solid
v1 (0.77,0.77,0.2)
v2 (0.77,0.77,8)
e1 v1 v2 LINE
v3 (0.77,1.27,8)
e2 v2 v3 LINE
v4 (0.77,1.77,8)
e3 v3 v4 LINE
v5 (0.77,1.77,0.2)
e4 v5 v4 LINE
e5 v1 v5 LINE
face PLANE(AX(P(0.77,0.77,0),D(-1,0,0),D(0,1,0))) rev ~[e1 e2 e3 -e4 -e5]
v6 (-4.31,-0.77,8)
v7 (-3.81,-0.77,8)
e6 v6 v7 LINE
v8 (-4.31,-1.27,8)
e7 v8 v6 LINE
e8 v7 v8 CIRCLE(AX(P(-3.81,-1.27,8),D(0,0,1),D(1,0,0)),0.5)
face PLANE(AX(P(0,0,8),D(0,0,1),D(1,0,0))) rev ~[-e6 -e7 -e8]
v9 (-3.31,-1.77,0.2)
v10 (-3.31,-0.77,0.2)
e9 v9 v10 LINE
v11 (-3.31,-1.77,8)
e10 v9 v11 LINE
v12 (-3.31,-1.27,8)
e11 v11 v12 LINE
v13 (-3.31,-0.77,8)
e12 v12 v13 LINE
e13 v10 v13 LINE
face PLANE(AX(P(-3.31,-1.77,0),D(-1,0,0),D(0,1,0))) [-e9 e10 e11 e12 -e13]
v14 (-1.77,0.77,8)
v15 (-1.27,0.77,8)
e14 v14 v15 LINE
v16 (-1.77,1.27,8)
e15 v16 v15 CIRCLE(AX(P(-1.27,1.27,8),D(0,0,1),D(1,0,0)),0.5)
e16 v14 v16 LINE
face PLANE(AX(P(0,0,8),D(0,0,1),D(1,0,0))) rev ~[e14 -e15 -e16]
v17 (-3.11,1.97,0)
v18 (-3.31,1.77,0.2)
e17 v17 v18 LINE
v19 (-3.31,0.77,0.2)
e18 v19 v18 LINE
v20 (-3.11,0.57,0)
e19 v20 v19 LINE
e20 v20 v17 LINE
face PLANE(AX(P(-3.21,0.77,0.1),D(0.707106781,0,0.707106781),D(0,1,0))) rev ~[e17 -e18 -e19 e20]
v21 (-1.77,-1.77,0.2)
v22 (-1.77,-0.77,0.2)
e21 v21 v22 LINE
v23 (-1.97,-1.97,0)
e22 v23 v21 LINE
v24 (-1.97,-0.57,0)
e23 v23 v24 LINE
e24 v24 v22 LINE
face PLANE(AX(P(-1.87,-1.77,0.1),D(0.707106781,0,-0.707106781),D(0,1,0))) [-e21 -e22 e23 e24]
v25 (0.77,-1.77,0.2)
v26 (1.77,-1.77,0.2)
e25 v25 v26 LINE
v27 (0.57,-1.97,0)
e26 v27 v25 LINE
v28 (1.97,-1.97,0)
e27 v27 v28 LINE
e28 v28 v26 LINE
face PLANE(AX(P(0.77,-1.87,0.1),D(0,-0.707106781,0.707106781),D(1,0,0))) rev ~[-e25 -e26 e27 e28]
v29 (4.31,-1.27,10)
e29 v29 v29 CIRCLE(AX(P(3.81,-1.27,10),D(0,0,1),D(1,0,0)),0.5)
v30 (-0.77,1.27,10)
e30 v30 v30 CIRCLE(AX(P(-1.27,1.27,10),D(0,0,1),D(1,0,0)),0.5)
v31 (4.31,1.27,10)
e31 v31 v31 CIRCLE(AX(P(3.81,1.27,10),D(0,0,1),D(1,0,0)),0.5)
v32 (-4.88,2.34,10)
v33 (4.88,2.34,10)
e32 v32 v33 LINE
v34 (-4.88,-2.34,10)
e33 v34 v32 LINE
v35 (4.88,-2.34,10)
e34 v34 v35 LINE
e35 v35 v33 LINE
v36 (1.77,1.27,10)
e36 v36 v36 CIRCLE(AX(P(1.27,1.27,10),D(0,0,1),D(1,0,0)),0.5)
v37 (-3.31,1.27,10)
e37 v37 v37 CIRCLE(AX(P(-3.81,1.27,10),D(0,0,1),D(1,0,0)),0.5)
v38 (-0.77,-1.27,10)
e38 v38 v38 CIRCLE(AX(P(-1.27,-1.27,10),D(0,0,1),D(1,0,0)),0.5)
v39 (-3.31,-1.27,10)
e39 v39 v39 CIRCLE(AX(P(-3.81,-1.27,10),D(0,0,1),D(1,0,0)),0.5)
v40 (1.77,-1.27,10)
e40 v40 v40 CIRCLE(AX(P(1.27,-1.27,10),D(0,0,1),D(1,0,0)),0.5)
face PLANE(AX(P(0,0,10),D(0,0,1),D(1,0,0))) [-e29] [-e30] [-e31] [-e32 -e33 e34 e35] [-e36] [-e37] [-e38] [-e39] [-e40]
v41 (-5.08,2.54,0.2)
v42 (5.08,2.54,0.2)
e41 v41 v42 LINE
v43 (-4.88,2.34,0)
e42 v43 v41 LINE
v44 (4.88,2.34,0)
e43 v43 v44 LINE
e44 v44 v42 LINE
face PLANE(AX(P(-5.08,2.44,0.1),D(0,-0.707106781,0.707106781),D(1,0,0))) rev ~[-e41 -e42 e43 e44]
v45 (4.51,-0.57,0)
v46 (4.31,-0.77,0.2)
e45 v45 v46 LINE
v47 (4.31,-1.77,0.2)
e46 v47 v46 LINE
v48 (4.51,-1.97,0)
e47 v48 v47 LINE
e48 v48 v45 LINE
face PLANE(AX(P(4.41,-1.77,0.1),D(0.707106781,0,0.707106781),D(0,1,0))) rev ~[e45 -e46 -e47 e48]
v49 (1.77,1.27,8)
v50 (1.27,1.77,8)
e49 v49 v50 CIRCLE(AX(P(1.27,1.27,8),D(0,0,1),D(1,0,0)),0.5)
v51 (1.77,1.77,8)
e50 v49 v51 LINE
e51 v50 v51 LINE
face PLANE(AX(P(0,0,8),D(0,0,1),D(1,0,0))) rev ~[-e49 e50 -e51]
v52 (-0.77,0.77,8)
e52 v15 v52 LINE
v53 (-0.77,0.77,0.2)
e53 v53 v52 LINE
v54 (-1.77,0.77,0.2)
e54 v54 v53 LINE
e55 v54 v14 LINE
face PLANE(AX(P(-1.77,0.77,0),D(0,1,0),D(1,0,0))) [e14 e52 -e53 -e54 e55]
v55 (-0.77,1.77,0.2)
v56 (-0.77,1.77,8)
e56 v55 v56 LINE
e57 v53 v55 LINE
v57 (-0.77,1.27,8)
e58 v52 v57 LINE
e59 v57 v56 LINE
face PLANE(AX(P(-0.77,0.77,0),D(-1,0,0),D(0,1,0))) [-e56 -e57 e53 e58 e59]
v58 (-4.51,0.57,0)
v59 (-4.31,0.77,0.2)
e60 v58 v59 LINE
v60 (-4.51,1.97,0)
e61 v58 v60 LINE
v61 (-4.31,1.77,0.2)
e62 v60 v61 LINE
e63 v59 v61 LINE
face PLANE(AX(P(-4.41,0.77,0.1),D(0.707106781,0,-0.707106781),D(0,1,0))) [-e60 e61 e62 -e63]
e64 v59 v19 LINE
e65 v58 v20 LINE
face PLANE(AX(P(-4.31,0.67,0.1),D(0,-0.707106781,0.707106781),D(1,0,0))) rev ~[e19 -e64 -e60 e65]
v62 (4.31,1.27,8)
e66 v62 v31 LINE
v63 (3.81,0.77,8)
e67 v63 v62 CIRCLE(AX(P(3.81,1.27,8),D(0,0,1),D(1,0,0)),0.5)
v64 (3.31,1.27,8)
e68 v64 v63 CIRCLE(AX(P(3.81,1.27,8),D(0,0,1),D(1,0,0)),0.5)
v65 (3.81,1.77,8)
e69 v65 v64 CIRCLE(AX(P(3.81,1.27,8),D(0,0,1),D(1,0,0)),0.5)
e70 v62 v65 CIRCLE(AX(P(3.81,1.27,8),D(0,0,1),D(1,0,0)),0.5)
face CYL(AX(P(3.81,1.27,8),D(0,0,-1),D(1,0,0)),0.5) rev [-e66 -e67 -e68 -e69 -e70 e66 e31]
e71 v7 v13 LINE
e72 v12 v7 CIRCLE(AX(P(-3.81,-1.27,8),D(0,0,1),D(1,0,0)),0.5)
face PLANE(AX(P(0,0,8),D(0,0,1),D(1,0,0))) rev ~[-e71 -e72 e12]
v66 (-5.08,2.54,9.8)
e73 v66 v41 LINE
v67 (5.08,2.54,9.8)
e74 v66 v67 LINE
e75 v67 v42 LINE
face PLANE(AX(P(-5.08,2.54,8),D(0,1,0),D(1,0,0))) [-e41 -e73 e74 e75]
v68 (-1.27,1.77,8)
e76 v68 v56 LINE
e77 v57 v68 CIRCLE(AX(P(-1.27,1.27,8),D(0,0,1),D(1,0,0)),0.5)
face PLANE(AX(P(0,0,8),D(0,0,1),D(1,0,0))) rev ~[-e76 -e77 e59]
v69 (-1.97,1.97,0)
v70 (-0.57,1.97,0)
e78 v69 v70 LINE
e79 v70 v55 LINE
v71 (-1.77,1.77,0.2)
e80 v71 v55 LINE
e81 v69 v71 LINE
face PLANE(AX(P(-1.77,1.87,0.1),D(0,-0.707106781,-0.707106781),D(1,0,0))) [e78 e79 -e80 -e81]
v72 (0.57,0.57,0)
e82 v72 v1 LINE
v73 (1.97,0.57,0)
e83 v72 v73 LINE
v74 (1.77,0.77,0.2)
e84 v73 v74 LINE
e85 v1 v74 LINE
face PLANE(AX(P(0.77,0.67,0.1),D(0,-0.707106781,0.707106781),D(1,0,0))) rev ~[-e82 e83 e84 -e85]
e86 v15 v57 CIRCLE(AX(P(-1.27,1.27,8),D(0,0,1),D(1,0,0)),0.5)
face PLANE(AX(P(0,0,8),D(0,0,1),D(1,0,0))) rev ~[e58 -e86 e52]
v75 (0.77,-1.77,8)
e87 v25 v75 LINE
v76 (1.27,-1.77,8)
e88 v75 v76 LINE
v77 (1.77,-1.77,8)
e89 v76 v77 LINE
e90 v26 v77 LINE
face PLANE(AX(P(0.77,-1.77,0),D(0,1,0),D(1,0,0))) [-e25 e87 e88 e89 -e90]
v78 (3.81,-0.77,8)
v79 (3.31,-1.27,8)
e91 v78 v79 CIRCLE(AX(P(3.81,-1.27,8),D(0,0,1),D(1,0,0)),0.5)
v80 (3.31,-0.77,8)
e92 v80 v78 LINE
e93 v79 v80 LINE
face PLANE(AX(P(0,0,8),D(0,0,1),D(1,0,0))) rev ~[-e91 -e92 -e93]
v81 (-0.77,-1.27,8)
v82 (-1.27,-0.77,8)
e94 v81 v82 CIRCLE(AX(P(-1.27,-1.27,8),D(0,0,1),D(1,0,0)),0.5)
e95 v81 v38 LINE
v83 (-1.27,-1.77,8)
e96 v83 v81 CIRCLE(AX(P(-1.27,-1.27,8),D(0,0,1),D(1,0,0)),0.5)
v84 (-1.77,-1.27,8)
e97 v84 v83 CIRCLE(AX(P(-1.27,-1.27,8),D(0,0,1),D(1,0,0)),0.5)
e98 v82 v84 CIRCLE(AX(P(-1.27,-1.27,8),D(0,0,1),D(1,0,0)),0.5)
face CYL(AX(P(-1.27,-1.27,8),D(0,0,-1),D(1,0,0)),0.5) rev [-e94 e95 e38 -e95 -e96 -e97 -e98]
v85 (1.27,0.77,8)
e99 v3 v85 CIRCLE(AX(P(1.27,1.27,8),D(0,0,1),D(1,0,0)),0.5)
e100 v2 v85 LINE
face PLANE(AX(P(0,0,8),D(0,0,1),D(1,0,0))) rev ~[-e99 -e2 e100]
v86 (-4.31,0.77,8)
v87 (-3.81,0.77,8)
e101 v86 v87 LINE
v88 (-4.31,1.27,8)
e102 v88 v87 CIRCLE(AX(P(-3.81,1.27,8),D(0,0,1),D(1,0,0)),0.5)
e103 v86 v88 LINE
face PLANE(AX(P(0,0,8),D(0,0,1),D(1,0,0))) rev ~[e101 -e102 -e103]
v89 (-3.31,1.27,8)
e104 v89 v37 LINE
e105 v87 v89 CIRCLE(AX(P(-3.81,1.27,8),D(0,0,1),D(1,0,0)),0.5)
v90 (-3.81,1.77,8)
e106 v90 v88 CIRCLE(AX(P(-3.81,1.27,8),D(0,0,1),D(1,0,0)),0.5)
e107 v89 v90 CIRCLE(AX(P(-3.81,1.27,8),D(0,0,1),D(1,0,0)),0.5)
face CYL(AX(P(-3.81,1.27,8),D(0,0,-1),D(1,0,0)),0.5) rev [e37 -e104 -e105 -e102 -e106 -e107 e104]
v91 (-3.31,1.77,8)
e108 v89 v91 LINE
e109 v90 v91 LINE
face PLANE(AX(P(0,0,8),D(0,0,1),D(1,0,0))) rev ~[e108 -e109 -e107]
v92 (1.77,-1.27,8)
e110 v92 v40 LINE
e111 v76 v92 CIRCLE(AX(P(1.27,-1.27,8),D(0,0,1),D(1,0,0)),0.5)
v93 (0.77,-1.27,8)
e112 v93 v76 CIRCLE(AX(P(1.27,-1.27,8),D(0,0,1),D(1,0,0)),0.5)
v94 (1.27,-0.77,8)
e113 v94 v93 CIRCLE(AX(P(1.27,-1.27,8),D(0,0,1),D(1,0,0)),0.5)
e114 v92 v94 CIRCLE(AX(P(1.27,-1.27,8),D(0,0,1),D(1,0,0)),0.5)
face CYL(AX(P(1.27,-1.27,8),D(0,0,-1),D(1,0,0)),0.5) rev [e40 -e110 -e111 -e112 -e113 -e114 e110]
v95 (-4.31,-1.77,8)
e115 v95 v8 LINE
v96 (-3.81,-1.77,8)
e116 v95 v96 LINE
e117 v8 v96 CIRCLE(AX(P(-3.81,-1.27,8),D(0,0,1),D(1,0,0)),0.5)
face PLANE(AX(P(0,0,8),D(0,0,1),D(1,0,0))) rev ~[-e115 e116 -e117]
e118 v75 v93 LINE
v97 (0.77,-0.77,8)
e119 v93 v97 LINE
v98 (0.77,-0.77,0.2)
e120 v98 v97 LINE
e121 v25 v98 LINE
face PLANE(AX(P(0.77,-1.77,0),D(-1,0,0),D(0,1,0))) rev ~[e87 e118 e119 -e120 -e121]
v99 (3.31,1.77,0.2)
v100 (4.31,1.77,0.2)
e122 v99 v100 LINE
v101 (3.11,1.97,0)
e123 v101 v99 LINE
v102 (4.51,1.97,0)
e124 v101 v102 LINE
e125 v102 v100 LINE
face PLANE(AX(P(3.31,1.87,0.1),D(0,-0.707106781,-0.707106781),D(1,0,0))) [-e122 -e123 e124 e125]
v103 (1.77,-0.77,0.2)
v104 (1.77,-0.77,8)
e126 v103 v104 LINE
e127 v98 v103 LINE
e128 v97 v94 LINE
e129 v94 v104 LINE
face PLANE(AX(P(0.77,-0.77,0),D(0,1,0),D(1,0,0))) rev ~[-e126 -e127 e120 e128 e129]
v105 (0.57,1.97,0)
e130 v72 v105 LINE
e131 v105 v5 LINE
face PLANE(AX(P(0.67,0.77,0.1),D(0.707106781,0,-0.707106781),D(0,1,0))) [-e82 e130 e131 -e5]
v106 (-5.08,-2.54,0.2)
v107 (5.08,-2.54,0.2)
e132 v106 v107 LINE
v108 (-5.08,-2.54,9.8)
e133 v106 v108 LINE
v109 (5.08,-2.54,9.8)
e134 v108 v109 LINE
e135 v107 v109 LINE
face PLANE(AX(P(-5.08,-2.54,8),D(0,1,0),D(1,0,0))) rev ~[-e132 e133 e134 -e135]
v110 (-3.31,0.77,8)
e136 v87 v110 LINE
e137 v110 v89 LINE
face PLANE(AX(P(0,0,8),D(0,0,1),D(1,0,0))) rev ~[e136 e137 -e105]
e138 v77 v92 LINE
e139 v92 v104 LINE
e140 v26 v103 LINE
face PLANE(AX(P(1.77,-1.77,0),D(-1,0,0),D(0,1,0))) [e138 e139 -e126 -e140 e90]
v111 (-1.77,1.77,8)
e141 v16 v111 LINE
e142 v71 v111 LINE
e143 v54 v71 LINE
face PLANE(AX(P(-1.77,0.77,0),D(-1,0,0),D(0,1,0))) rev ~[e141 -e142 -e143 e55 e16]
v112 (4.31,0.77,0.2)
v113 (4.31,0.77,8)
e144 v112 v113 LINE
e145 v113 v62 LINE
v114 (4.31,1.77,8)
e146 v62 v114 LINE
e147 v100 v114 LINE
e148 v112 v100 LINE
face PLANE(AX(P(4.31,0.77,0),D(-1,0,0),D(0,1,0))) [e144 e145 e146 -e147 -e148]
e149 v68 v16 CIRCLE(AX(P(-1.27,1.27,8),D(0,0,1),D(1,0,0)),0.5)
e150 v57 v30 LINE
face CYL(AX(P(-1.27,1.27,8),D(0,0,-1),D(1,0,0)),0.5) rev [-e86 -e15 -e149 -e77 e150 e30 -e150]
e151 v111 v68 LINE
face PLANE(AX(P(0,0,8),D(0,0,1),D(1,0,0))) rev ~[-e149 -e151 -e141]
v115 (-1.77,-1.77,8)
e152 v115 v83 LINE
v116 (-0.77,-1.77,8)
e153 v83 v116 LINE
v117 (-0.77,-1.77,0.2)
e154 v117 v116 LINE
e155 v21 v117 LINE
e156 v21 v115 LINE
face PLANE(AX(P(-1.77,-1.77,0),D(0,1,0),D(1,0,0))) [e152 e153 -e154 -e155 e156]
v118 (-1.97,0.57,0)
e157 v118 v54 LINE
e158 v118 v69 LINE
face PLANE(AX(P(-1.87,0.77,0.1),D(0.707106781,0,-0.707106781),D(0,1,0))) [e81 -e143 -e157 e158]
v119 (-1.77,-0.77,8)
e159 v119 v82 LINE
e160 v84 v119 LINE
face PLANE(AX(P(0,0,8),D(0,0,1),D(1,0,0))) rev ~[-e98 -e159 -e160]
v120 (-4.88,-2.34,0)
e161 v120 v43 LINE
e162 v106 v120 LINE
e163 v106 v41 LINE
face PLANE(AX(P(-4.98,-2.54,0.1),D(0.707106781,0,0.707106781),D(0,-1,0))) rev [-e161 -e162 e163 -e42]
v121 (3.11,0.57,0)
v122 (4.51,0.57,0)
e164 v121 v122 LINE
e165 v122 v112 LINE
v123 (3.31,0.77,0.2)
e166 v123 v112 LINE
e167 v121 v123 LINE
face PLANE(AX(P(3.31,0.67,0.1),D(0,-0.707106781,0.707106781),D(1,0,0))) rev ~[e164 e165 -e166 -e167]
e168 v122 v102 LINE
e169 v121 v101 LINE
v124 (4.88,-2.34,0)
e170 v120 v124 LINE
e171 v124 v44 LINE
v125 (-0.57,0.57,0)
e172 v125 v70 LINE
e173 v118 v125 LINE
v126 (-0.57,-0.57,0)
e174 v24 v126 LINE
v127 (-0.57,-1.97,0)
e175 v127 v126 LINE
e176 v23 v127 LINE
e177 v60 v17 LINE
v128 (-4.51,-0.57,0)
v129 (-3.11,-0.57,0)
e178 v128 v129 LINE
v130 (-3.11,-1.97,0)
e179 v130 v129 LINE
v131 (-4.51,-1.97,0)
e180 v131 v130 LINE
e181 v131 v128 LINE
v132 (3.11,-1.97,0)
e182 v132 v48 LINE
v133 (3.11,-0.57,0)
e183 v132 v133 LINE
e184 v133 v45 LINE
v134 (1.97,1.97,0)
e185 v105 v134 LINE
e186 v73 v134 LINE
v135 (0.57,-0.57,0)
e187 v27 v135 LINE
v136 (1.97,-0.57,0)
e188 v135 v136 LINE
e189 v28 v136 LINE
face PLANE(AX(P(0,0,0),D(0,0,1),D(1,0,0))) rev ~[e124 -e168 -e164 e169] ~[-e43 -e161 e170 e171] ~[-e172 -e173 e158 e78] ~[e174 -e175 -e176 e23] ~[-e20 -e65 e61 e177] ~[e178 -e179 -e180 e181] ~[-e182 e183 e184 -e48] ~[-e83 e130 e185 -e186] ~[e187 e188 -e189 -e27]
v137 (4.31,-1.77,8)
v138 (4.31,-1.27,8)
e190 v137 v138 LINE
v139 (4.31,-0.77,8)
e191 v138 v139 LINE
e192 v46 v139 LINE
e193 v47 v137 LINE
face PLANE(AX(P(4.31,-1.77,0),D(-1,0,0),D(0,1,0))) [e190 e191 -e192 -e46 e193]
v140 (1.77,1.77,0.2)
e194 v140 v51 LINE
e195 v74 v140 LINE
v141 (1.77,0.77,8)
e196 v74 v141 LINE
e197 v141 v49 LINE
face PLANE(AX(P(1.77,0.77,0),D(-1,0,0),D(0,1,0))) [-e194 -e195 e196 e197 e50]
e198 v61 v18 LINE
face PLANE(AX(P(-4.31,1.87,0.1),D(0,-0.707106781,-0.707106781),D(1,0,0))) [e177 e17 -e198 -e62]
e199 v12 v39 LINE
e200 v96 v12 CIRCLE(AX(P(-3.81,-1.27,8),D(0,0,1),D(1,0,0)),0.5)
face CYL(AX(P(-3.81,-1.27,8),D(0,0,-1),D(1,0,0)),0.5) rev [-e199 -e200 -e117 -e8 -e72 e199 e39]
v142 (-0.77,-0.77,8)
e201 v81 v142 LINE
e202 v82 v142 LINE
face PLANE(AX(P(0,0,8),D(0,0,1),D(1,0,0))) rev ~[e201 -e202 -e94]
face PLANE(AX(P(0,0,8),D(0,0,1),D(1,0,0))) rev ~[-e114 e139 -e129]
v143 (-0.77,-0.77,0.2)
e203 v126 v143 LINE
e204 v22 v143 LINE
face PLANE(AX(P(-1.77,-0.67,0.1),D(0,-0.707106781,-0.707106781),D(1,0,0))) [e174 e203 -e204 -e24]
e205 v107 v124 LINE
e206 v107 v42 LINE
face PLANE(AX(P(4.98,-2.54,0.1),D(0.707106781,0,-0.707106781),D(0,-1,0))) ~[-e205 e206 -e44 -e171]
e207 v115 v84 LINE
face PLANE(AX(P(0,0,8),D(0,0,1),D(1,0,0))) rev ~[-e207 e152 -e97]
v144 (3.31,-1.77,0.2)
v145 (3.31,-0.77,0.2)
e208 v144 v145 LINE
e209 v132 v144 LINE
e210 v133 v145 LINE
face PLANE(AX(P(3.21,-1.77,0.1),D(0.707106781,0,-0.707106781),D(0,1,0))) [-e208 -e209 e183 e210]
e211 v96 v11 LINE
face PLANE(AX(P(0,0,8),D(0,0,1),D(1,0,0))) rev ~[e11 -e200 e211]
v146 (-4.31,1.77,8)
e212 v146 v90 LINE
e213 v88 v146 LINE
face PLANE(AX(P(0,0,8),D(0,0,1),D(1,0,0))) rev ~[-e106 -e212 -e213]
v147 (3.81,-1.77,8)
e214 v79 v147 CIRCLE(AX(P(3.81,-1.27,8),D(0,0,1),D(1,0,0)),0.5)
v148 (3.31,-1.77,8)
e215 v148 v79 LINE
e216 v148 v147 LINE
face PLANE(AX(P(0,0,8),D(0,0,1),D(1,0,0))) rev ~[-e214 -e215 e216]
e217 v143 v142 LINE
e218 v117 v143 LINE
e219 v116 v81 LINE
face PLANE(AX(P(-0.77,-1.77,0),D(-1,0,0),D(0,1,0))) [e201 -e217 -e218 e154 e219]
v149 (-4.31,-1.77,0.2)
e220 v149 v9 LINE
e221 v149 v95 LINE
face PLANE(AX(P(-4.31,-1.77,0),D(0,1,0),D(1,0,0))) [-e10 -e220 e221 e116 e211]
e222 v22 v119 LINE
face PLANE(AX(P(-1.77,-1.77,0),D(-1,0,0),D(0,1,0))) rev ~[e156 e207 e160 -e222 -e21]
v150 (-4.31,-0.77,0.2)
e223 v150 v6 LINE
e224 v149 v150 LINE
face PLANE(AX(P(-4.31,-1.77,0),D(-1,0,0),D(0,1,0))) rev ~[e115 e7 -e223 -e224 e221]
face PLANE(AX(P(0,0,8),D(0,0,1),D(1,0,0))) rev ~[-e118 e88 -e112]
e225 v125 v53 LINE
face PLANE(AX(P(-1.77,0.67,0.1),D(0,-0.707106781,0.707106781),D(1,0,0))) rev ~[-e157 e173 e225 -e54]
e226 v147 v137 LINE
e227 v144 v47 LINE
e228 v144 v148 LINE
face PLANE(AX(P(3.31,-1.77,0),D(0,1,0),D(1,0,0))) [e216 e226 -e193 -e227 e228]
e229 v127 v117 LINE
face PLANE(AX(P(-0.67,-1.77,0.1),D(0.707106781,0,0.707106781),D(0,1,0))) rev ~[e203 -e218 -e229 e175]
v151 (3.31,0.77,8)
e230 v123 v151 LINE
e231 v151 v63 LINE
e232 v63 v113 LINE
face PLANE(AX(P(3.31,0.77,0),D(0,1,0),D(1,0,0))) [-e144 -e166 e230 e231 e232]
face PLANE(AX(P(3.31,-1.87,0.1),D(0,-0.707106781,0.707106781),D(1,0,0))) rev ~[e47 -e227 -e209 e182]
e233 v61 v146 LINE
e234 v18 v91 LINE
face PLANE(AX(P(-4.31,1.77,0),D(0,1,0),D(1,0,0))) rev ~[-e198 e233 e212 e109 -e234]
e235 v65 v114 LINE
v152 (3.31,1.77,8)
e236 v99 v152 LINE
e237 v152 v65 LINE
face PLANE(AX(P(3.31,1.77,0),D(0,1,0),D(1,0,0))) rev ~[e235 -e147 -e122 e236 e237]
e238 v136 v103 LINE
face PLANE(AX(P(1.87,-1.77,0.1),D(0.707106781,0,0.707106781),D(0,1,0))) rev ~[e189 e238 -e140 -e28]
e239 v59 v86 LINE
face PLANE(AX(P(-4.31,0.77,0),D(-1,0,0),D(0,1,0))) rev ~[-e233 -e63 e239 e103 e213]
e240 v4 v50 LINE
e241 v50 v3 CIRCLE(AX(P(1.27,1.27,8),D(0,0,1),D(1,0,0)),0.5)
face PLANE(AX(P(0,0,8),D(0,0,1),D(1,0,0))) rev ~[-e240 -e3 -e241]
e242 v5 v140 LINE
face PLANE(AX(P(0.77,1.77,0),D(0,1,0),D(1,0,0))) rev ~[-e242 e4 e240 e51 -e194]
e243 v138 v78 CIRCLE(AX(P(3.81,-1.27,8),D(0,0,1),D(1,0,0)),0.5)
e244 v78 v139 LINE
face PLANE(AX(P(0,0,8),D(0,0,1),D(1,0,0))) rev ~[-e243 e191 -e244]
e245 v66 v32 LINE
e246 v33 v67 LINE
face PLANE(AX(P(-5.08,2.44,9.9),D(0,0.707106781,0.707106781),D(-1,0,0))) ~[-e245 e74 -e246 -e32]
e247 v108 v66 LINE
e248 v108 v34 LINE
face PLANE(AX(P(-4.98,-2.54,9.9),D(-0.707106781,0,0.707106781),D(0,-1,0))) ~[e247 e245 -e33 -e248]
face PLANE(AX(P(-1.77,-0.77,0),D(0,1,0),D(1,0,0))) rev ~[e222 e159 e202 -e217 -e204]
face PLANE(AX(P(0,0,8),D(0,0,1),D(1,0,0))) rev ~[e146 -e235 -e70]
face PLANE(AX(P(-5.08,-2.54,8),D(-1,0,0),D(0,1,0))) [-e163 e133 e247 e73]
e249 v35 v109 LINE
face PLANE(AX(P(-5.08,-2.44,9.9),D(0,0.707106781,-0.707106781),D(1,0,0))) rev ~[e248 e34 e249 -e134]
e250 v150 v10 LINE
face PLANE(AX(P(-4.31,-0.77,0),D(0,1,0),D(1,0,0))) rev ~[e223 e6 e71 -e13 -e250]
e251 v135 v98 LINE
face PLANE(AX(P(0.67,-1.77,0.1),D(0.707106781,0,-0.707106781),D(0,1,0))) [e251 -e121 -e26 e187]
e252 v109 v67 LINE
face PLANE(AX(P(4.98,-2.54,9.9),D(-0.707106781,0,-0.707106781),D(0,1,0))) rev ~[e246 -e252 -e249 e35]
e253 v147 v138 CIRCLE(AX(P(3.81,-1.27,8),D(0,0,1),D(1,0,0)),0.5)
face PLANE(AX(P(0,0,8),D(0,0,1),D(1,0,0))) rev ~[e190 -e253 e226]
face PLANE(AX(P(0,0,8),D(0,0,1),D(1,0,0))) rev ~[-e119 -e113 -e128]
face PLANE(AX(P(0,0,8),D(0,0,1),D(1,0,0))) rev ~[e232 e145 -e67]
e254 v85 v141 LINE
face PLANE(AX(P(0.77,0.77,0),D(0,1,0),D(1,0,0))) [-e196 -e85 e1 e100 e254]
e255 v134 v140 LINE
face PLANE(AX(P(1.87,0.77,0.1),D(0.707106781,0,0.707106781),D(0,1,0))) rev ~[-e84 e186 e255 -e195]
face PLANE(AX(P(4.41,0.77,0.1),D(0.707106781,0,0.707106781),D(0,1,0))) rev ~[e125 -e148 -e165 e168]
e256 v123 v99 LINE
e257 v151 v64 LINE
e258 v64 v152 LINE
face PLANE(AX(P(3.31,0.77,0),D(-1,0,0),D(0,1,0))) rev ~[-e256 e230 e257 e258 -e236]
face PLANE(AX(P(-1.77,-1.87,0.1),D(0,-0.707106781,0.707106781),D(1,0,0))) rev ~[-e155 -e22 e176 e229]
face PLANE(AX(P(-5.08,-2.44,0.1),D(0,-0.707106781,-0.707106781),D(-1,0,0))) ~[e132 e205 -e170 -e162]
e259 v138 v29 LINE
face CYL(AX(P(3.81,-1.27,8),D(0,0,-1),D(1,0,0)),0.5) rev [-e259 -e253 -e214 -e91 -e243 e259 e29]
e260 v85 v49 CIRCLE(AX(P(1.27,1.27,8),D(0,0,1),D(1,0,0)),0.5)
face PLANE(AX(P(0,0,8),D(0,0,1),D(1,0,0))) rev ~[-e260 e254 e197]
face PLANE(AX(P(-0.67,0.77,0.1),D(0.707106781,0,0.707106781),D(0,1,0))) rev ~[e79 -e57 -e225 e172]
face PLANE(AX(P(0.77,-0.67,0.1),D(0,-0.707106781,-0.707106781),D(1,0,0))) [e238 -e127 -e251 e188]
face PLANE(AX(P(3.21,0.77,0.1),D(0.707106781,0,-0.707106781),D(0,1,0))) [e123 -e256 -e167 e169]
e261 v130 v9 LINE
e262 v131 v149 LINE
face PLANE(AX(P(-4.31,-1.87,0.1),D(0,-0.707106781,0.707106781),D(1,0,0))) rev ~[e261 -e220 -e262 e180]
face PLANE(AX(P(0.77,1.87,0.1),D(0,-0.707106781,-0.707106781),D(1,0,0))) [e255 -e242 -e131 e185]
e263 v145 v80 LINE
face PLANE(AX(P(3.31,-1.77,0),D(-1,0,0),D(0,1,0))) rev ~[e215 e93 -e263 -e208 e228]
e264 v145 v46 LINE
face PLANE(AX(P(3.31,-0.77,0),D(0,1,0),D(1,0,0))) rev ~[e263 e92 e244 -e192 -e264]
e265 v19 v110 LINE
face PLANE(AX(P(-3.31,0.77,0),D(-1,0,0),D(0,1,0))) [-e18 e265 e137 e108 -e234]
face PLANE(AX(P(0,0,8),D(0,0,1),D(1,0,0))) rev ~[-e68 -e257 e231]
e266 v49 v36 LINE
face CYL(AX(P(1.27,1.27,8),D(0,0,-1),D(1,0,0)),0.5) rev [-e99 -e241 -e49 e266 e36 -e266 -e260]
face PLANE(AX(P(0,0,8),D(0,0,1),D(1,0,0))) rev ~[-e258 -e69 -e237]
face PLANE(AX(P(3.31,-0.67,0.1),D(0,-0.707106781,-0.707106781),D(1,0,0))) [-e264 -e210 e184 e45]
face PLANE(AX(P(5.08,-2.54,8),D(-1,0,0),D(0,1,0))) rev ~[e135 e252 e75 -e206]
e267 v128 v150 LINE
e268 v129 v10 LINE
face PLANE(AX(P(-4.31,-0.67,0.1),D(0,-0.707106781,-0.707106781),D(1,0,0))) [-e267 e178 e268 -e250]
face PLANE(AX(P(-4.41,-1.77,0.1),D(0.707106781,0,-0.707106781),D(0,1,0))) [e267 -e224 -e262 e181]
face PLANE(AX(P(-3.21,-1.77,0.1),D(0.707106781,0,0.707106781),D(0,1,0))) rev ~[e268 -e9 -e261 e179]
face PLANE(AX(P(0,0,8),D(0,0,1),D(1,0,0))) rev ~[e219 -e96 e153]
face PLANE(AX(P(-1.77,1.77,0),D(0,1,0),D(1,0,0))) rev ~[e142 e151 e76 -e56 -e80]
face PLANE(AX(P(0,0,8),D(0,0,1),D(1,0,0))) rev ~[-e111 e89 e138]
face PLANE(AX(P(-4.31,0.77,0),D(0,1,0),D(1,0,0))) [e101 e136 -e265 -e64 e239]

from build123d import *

# Parameters (mm, degrees)
SKETCH1_W           = 10.16
SKETCH1_H           = 5.08
SKETCH1_W_2         = 1
SKETCH1_H_2         = 1
BOSS_EXTRUDE2_DEPTH = 8
SKETCH2_W           = 10.16
SKETCH2_H           = 5.08
SKETCH2_R           = 0.5
BOSS_EXTRUDE3_DEPTH = 2
CHAMFER1_SIZE       = 0.2
CHAMFER2_SIZE       = 0.2


with BuildPart() as part:
    # Sketch1 → Boss-Extrude2 (new body)
    with BuildSketch(Plane.XY):
        Rectangle(SKETCH1_W, SKETCH1_H)
        with Locations((-1.27, 1.27)):
            Rectangle(SKETCH1_W_2, SKETCH1_H_2, mode=Mode.SUBTRACT)
        with Locations((-3.81, 1.27)):
            Rectangle(SKETCH1_W_2, SKETCH1_H_2, mode=Mode.SUBTRACT)
        with Locations((1.27, 1.27)):
            Rectangle(SKETCH1_W_2, SKETCH1_H_2, mode=Mode.SUBTRACT)
        with Locations((3.81, 1.27)):
            Rectangle(SKETCH1_W_2, SKETCH1_H_2, mode=Mode.SUBTRACT)
        with Locations((-1.27, -1.27)):
            Rectangle(SKETCH1_W_2, SKETCH1_H_2, mode=Mode.SUBTRACT)
        with Locations((1.27, -1.27)):
            Rectangle(SKETCH1_W_2, SKETCH1_H_2, mode=Mode.SUBTRACT)
        with Locations((3.81, -1.27)):
            Rectangle(SKETCH1_W_2, SKETCH1_H_2, mode=Mode.SUBTRACT)
        with Locations((-3.81, -1.27)):
            Rectangle(SKETCH1_W_2, SKETCH1_H_2, mode=Mode.SUBTRACT)
    extrude(amount=BOSS_EXTRUDE2_DEPTH)

    # Sketch2 → Boss-Extrude3 (add)
    with BuildSketch(Plane.XY.offset(8)):
        Rectangle(SKETCH2_W, SKETCH2_H)
        with Locations((-3.81, 1.27)):
            Circle(SKETCH2_R, mode=Mode.SUBTRACT)
        with Locations((-1.27, 1.27)):
            Circle(SKETCH2_R, mode=Mode.SUBTRACT)
        with Locations((1.27, 1.27)):
            Circle(SKETCH2_R, mode=Mode.SUBTRACT)
        with Locations((3.81, 1.27)):
            Circle(SKETCH2_R, mode=Mode.SUBTRACT)
        with Locations((-1.27, -1.27)):
            Circle(SKETCH2_R, mode=Mode.SUBTRACT)
        with Locations((1.27, -1.27)):
            Circle(SKETCH2_R, mode=Mode.SUBTRACT)
        with Locations((3.81, -1.27)):
            Circle(SKETCH2_R, mode=Mode.SUBTRACT)
        with Locations((-3.81, -1.27)):
            Circle(SKETCH2_R, mode=Mode.SUBTRACT)
    extrude(amount=BOSS_EXTRUDE3_DEPTH)

    # Chamfer1
    chamfer1_edges = [part.edges().sort_by_distance(p)[0] for p in [
        (-4.31, -1.27, 0),
        (-3.81, -1.77, 0),
        (-3.31, -1.27, 0),
        (-3.81, -0.77, 0),
        (-4.31, 1.27, 0),
        (-3.81, 0.77, 0),
        (-3.31, 1.27, 0),
        (-3.81, 1.77, 0),
        (-1.77, 1.27, 0),
        (-1.27, 0.77, 0),
        (-0.77, 1.27, 0),
        (-1.27, 1.77, 0),
        (0.77, 1.27, 0),
        (1.27, 0.77, 0),
        (1.77, 1.27, 0),
        (1.27, 1.77, 0),
        (0, 2.54, 0),
        (5.08, 0, 0),
        (0, -2.54, 0),
        (3.31, 1.27, 0),
        (3.81, 0.77, 0),
        (4.31, 1.27, 0),
        (3.81, 1.77, 0),
        (-5.08, 0, 0),
        (-1.77, -1.27, 0),
        (-1.27, -1.77, 0),
        (-0.77, -1.27, 0),
        (-1.27, -0.77, 0),
        (0.77, -1.27, 0),
        (1.27, -1.77, 0),
        (1.77, -1.27, 0),
        (1.27, -0.77, 0),
        (3.31, -1.27, 0),
        (3.81, -1.77, 0),
        (4.31, -1.27, 0),
        (3.81, -0.77, 0),
    ]]
    chamfer(chamfer1_edges, length=CHAMFER1_SIZE)

    # Chamfer2
    chamfer2_edges = [part.edges().sort_by_distance(p)[0] for p in [
        (-5.08, 0, 10),
        (0, -2.54, 10),
        (5.08, 0, 10),
        (0, 2.54, 10),
    ]]
    chamfer(chamfer2_edges, length=CHAMFER2_SIZE)


solid = part.part
